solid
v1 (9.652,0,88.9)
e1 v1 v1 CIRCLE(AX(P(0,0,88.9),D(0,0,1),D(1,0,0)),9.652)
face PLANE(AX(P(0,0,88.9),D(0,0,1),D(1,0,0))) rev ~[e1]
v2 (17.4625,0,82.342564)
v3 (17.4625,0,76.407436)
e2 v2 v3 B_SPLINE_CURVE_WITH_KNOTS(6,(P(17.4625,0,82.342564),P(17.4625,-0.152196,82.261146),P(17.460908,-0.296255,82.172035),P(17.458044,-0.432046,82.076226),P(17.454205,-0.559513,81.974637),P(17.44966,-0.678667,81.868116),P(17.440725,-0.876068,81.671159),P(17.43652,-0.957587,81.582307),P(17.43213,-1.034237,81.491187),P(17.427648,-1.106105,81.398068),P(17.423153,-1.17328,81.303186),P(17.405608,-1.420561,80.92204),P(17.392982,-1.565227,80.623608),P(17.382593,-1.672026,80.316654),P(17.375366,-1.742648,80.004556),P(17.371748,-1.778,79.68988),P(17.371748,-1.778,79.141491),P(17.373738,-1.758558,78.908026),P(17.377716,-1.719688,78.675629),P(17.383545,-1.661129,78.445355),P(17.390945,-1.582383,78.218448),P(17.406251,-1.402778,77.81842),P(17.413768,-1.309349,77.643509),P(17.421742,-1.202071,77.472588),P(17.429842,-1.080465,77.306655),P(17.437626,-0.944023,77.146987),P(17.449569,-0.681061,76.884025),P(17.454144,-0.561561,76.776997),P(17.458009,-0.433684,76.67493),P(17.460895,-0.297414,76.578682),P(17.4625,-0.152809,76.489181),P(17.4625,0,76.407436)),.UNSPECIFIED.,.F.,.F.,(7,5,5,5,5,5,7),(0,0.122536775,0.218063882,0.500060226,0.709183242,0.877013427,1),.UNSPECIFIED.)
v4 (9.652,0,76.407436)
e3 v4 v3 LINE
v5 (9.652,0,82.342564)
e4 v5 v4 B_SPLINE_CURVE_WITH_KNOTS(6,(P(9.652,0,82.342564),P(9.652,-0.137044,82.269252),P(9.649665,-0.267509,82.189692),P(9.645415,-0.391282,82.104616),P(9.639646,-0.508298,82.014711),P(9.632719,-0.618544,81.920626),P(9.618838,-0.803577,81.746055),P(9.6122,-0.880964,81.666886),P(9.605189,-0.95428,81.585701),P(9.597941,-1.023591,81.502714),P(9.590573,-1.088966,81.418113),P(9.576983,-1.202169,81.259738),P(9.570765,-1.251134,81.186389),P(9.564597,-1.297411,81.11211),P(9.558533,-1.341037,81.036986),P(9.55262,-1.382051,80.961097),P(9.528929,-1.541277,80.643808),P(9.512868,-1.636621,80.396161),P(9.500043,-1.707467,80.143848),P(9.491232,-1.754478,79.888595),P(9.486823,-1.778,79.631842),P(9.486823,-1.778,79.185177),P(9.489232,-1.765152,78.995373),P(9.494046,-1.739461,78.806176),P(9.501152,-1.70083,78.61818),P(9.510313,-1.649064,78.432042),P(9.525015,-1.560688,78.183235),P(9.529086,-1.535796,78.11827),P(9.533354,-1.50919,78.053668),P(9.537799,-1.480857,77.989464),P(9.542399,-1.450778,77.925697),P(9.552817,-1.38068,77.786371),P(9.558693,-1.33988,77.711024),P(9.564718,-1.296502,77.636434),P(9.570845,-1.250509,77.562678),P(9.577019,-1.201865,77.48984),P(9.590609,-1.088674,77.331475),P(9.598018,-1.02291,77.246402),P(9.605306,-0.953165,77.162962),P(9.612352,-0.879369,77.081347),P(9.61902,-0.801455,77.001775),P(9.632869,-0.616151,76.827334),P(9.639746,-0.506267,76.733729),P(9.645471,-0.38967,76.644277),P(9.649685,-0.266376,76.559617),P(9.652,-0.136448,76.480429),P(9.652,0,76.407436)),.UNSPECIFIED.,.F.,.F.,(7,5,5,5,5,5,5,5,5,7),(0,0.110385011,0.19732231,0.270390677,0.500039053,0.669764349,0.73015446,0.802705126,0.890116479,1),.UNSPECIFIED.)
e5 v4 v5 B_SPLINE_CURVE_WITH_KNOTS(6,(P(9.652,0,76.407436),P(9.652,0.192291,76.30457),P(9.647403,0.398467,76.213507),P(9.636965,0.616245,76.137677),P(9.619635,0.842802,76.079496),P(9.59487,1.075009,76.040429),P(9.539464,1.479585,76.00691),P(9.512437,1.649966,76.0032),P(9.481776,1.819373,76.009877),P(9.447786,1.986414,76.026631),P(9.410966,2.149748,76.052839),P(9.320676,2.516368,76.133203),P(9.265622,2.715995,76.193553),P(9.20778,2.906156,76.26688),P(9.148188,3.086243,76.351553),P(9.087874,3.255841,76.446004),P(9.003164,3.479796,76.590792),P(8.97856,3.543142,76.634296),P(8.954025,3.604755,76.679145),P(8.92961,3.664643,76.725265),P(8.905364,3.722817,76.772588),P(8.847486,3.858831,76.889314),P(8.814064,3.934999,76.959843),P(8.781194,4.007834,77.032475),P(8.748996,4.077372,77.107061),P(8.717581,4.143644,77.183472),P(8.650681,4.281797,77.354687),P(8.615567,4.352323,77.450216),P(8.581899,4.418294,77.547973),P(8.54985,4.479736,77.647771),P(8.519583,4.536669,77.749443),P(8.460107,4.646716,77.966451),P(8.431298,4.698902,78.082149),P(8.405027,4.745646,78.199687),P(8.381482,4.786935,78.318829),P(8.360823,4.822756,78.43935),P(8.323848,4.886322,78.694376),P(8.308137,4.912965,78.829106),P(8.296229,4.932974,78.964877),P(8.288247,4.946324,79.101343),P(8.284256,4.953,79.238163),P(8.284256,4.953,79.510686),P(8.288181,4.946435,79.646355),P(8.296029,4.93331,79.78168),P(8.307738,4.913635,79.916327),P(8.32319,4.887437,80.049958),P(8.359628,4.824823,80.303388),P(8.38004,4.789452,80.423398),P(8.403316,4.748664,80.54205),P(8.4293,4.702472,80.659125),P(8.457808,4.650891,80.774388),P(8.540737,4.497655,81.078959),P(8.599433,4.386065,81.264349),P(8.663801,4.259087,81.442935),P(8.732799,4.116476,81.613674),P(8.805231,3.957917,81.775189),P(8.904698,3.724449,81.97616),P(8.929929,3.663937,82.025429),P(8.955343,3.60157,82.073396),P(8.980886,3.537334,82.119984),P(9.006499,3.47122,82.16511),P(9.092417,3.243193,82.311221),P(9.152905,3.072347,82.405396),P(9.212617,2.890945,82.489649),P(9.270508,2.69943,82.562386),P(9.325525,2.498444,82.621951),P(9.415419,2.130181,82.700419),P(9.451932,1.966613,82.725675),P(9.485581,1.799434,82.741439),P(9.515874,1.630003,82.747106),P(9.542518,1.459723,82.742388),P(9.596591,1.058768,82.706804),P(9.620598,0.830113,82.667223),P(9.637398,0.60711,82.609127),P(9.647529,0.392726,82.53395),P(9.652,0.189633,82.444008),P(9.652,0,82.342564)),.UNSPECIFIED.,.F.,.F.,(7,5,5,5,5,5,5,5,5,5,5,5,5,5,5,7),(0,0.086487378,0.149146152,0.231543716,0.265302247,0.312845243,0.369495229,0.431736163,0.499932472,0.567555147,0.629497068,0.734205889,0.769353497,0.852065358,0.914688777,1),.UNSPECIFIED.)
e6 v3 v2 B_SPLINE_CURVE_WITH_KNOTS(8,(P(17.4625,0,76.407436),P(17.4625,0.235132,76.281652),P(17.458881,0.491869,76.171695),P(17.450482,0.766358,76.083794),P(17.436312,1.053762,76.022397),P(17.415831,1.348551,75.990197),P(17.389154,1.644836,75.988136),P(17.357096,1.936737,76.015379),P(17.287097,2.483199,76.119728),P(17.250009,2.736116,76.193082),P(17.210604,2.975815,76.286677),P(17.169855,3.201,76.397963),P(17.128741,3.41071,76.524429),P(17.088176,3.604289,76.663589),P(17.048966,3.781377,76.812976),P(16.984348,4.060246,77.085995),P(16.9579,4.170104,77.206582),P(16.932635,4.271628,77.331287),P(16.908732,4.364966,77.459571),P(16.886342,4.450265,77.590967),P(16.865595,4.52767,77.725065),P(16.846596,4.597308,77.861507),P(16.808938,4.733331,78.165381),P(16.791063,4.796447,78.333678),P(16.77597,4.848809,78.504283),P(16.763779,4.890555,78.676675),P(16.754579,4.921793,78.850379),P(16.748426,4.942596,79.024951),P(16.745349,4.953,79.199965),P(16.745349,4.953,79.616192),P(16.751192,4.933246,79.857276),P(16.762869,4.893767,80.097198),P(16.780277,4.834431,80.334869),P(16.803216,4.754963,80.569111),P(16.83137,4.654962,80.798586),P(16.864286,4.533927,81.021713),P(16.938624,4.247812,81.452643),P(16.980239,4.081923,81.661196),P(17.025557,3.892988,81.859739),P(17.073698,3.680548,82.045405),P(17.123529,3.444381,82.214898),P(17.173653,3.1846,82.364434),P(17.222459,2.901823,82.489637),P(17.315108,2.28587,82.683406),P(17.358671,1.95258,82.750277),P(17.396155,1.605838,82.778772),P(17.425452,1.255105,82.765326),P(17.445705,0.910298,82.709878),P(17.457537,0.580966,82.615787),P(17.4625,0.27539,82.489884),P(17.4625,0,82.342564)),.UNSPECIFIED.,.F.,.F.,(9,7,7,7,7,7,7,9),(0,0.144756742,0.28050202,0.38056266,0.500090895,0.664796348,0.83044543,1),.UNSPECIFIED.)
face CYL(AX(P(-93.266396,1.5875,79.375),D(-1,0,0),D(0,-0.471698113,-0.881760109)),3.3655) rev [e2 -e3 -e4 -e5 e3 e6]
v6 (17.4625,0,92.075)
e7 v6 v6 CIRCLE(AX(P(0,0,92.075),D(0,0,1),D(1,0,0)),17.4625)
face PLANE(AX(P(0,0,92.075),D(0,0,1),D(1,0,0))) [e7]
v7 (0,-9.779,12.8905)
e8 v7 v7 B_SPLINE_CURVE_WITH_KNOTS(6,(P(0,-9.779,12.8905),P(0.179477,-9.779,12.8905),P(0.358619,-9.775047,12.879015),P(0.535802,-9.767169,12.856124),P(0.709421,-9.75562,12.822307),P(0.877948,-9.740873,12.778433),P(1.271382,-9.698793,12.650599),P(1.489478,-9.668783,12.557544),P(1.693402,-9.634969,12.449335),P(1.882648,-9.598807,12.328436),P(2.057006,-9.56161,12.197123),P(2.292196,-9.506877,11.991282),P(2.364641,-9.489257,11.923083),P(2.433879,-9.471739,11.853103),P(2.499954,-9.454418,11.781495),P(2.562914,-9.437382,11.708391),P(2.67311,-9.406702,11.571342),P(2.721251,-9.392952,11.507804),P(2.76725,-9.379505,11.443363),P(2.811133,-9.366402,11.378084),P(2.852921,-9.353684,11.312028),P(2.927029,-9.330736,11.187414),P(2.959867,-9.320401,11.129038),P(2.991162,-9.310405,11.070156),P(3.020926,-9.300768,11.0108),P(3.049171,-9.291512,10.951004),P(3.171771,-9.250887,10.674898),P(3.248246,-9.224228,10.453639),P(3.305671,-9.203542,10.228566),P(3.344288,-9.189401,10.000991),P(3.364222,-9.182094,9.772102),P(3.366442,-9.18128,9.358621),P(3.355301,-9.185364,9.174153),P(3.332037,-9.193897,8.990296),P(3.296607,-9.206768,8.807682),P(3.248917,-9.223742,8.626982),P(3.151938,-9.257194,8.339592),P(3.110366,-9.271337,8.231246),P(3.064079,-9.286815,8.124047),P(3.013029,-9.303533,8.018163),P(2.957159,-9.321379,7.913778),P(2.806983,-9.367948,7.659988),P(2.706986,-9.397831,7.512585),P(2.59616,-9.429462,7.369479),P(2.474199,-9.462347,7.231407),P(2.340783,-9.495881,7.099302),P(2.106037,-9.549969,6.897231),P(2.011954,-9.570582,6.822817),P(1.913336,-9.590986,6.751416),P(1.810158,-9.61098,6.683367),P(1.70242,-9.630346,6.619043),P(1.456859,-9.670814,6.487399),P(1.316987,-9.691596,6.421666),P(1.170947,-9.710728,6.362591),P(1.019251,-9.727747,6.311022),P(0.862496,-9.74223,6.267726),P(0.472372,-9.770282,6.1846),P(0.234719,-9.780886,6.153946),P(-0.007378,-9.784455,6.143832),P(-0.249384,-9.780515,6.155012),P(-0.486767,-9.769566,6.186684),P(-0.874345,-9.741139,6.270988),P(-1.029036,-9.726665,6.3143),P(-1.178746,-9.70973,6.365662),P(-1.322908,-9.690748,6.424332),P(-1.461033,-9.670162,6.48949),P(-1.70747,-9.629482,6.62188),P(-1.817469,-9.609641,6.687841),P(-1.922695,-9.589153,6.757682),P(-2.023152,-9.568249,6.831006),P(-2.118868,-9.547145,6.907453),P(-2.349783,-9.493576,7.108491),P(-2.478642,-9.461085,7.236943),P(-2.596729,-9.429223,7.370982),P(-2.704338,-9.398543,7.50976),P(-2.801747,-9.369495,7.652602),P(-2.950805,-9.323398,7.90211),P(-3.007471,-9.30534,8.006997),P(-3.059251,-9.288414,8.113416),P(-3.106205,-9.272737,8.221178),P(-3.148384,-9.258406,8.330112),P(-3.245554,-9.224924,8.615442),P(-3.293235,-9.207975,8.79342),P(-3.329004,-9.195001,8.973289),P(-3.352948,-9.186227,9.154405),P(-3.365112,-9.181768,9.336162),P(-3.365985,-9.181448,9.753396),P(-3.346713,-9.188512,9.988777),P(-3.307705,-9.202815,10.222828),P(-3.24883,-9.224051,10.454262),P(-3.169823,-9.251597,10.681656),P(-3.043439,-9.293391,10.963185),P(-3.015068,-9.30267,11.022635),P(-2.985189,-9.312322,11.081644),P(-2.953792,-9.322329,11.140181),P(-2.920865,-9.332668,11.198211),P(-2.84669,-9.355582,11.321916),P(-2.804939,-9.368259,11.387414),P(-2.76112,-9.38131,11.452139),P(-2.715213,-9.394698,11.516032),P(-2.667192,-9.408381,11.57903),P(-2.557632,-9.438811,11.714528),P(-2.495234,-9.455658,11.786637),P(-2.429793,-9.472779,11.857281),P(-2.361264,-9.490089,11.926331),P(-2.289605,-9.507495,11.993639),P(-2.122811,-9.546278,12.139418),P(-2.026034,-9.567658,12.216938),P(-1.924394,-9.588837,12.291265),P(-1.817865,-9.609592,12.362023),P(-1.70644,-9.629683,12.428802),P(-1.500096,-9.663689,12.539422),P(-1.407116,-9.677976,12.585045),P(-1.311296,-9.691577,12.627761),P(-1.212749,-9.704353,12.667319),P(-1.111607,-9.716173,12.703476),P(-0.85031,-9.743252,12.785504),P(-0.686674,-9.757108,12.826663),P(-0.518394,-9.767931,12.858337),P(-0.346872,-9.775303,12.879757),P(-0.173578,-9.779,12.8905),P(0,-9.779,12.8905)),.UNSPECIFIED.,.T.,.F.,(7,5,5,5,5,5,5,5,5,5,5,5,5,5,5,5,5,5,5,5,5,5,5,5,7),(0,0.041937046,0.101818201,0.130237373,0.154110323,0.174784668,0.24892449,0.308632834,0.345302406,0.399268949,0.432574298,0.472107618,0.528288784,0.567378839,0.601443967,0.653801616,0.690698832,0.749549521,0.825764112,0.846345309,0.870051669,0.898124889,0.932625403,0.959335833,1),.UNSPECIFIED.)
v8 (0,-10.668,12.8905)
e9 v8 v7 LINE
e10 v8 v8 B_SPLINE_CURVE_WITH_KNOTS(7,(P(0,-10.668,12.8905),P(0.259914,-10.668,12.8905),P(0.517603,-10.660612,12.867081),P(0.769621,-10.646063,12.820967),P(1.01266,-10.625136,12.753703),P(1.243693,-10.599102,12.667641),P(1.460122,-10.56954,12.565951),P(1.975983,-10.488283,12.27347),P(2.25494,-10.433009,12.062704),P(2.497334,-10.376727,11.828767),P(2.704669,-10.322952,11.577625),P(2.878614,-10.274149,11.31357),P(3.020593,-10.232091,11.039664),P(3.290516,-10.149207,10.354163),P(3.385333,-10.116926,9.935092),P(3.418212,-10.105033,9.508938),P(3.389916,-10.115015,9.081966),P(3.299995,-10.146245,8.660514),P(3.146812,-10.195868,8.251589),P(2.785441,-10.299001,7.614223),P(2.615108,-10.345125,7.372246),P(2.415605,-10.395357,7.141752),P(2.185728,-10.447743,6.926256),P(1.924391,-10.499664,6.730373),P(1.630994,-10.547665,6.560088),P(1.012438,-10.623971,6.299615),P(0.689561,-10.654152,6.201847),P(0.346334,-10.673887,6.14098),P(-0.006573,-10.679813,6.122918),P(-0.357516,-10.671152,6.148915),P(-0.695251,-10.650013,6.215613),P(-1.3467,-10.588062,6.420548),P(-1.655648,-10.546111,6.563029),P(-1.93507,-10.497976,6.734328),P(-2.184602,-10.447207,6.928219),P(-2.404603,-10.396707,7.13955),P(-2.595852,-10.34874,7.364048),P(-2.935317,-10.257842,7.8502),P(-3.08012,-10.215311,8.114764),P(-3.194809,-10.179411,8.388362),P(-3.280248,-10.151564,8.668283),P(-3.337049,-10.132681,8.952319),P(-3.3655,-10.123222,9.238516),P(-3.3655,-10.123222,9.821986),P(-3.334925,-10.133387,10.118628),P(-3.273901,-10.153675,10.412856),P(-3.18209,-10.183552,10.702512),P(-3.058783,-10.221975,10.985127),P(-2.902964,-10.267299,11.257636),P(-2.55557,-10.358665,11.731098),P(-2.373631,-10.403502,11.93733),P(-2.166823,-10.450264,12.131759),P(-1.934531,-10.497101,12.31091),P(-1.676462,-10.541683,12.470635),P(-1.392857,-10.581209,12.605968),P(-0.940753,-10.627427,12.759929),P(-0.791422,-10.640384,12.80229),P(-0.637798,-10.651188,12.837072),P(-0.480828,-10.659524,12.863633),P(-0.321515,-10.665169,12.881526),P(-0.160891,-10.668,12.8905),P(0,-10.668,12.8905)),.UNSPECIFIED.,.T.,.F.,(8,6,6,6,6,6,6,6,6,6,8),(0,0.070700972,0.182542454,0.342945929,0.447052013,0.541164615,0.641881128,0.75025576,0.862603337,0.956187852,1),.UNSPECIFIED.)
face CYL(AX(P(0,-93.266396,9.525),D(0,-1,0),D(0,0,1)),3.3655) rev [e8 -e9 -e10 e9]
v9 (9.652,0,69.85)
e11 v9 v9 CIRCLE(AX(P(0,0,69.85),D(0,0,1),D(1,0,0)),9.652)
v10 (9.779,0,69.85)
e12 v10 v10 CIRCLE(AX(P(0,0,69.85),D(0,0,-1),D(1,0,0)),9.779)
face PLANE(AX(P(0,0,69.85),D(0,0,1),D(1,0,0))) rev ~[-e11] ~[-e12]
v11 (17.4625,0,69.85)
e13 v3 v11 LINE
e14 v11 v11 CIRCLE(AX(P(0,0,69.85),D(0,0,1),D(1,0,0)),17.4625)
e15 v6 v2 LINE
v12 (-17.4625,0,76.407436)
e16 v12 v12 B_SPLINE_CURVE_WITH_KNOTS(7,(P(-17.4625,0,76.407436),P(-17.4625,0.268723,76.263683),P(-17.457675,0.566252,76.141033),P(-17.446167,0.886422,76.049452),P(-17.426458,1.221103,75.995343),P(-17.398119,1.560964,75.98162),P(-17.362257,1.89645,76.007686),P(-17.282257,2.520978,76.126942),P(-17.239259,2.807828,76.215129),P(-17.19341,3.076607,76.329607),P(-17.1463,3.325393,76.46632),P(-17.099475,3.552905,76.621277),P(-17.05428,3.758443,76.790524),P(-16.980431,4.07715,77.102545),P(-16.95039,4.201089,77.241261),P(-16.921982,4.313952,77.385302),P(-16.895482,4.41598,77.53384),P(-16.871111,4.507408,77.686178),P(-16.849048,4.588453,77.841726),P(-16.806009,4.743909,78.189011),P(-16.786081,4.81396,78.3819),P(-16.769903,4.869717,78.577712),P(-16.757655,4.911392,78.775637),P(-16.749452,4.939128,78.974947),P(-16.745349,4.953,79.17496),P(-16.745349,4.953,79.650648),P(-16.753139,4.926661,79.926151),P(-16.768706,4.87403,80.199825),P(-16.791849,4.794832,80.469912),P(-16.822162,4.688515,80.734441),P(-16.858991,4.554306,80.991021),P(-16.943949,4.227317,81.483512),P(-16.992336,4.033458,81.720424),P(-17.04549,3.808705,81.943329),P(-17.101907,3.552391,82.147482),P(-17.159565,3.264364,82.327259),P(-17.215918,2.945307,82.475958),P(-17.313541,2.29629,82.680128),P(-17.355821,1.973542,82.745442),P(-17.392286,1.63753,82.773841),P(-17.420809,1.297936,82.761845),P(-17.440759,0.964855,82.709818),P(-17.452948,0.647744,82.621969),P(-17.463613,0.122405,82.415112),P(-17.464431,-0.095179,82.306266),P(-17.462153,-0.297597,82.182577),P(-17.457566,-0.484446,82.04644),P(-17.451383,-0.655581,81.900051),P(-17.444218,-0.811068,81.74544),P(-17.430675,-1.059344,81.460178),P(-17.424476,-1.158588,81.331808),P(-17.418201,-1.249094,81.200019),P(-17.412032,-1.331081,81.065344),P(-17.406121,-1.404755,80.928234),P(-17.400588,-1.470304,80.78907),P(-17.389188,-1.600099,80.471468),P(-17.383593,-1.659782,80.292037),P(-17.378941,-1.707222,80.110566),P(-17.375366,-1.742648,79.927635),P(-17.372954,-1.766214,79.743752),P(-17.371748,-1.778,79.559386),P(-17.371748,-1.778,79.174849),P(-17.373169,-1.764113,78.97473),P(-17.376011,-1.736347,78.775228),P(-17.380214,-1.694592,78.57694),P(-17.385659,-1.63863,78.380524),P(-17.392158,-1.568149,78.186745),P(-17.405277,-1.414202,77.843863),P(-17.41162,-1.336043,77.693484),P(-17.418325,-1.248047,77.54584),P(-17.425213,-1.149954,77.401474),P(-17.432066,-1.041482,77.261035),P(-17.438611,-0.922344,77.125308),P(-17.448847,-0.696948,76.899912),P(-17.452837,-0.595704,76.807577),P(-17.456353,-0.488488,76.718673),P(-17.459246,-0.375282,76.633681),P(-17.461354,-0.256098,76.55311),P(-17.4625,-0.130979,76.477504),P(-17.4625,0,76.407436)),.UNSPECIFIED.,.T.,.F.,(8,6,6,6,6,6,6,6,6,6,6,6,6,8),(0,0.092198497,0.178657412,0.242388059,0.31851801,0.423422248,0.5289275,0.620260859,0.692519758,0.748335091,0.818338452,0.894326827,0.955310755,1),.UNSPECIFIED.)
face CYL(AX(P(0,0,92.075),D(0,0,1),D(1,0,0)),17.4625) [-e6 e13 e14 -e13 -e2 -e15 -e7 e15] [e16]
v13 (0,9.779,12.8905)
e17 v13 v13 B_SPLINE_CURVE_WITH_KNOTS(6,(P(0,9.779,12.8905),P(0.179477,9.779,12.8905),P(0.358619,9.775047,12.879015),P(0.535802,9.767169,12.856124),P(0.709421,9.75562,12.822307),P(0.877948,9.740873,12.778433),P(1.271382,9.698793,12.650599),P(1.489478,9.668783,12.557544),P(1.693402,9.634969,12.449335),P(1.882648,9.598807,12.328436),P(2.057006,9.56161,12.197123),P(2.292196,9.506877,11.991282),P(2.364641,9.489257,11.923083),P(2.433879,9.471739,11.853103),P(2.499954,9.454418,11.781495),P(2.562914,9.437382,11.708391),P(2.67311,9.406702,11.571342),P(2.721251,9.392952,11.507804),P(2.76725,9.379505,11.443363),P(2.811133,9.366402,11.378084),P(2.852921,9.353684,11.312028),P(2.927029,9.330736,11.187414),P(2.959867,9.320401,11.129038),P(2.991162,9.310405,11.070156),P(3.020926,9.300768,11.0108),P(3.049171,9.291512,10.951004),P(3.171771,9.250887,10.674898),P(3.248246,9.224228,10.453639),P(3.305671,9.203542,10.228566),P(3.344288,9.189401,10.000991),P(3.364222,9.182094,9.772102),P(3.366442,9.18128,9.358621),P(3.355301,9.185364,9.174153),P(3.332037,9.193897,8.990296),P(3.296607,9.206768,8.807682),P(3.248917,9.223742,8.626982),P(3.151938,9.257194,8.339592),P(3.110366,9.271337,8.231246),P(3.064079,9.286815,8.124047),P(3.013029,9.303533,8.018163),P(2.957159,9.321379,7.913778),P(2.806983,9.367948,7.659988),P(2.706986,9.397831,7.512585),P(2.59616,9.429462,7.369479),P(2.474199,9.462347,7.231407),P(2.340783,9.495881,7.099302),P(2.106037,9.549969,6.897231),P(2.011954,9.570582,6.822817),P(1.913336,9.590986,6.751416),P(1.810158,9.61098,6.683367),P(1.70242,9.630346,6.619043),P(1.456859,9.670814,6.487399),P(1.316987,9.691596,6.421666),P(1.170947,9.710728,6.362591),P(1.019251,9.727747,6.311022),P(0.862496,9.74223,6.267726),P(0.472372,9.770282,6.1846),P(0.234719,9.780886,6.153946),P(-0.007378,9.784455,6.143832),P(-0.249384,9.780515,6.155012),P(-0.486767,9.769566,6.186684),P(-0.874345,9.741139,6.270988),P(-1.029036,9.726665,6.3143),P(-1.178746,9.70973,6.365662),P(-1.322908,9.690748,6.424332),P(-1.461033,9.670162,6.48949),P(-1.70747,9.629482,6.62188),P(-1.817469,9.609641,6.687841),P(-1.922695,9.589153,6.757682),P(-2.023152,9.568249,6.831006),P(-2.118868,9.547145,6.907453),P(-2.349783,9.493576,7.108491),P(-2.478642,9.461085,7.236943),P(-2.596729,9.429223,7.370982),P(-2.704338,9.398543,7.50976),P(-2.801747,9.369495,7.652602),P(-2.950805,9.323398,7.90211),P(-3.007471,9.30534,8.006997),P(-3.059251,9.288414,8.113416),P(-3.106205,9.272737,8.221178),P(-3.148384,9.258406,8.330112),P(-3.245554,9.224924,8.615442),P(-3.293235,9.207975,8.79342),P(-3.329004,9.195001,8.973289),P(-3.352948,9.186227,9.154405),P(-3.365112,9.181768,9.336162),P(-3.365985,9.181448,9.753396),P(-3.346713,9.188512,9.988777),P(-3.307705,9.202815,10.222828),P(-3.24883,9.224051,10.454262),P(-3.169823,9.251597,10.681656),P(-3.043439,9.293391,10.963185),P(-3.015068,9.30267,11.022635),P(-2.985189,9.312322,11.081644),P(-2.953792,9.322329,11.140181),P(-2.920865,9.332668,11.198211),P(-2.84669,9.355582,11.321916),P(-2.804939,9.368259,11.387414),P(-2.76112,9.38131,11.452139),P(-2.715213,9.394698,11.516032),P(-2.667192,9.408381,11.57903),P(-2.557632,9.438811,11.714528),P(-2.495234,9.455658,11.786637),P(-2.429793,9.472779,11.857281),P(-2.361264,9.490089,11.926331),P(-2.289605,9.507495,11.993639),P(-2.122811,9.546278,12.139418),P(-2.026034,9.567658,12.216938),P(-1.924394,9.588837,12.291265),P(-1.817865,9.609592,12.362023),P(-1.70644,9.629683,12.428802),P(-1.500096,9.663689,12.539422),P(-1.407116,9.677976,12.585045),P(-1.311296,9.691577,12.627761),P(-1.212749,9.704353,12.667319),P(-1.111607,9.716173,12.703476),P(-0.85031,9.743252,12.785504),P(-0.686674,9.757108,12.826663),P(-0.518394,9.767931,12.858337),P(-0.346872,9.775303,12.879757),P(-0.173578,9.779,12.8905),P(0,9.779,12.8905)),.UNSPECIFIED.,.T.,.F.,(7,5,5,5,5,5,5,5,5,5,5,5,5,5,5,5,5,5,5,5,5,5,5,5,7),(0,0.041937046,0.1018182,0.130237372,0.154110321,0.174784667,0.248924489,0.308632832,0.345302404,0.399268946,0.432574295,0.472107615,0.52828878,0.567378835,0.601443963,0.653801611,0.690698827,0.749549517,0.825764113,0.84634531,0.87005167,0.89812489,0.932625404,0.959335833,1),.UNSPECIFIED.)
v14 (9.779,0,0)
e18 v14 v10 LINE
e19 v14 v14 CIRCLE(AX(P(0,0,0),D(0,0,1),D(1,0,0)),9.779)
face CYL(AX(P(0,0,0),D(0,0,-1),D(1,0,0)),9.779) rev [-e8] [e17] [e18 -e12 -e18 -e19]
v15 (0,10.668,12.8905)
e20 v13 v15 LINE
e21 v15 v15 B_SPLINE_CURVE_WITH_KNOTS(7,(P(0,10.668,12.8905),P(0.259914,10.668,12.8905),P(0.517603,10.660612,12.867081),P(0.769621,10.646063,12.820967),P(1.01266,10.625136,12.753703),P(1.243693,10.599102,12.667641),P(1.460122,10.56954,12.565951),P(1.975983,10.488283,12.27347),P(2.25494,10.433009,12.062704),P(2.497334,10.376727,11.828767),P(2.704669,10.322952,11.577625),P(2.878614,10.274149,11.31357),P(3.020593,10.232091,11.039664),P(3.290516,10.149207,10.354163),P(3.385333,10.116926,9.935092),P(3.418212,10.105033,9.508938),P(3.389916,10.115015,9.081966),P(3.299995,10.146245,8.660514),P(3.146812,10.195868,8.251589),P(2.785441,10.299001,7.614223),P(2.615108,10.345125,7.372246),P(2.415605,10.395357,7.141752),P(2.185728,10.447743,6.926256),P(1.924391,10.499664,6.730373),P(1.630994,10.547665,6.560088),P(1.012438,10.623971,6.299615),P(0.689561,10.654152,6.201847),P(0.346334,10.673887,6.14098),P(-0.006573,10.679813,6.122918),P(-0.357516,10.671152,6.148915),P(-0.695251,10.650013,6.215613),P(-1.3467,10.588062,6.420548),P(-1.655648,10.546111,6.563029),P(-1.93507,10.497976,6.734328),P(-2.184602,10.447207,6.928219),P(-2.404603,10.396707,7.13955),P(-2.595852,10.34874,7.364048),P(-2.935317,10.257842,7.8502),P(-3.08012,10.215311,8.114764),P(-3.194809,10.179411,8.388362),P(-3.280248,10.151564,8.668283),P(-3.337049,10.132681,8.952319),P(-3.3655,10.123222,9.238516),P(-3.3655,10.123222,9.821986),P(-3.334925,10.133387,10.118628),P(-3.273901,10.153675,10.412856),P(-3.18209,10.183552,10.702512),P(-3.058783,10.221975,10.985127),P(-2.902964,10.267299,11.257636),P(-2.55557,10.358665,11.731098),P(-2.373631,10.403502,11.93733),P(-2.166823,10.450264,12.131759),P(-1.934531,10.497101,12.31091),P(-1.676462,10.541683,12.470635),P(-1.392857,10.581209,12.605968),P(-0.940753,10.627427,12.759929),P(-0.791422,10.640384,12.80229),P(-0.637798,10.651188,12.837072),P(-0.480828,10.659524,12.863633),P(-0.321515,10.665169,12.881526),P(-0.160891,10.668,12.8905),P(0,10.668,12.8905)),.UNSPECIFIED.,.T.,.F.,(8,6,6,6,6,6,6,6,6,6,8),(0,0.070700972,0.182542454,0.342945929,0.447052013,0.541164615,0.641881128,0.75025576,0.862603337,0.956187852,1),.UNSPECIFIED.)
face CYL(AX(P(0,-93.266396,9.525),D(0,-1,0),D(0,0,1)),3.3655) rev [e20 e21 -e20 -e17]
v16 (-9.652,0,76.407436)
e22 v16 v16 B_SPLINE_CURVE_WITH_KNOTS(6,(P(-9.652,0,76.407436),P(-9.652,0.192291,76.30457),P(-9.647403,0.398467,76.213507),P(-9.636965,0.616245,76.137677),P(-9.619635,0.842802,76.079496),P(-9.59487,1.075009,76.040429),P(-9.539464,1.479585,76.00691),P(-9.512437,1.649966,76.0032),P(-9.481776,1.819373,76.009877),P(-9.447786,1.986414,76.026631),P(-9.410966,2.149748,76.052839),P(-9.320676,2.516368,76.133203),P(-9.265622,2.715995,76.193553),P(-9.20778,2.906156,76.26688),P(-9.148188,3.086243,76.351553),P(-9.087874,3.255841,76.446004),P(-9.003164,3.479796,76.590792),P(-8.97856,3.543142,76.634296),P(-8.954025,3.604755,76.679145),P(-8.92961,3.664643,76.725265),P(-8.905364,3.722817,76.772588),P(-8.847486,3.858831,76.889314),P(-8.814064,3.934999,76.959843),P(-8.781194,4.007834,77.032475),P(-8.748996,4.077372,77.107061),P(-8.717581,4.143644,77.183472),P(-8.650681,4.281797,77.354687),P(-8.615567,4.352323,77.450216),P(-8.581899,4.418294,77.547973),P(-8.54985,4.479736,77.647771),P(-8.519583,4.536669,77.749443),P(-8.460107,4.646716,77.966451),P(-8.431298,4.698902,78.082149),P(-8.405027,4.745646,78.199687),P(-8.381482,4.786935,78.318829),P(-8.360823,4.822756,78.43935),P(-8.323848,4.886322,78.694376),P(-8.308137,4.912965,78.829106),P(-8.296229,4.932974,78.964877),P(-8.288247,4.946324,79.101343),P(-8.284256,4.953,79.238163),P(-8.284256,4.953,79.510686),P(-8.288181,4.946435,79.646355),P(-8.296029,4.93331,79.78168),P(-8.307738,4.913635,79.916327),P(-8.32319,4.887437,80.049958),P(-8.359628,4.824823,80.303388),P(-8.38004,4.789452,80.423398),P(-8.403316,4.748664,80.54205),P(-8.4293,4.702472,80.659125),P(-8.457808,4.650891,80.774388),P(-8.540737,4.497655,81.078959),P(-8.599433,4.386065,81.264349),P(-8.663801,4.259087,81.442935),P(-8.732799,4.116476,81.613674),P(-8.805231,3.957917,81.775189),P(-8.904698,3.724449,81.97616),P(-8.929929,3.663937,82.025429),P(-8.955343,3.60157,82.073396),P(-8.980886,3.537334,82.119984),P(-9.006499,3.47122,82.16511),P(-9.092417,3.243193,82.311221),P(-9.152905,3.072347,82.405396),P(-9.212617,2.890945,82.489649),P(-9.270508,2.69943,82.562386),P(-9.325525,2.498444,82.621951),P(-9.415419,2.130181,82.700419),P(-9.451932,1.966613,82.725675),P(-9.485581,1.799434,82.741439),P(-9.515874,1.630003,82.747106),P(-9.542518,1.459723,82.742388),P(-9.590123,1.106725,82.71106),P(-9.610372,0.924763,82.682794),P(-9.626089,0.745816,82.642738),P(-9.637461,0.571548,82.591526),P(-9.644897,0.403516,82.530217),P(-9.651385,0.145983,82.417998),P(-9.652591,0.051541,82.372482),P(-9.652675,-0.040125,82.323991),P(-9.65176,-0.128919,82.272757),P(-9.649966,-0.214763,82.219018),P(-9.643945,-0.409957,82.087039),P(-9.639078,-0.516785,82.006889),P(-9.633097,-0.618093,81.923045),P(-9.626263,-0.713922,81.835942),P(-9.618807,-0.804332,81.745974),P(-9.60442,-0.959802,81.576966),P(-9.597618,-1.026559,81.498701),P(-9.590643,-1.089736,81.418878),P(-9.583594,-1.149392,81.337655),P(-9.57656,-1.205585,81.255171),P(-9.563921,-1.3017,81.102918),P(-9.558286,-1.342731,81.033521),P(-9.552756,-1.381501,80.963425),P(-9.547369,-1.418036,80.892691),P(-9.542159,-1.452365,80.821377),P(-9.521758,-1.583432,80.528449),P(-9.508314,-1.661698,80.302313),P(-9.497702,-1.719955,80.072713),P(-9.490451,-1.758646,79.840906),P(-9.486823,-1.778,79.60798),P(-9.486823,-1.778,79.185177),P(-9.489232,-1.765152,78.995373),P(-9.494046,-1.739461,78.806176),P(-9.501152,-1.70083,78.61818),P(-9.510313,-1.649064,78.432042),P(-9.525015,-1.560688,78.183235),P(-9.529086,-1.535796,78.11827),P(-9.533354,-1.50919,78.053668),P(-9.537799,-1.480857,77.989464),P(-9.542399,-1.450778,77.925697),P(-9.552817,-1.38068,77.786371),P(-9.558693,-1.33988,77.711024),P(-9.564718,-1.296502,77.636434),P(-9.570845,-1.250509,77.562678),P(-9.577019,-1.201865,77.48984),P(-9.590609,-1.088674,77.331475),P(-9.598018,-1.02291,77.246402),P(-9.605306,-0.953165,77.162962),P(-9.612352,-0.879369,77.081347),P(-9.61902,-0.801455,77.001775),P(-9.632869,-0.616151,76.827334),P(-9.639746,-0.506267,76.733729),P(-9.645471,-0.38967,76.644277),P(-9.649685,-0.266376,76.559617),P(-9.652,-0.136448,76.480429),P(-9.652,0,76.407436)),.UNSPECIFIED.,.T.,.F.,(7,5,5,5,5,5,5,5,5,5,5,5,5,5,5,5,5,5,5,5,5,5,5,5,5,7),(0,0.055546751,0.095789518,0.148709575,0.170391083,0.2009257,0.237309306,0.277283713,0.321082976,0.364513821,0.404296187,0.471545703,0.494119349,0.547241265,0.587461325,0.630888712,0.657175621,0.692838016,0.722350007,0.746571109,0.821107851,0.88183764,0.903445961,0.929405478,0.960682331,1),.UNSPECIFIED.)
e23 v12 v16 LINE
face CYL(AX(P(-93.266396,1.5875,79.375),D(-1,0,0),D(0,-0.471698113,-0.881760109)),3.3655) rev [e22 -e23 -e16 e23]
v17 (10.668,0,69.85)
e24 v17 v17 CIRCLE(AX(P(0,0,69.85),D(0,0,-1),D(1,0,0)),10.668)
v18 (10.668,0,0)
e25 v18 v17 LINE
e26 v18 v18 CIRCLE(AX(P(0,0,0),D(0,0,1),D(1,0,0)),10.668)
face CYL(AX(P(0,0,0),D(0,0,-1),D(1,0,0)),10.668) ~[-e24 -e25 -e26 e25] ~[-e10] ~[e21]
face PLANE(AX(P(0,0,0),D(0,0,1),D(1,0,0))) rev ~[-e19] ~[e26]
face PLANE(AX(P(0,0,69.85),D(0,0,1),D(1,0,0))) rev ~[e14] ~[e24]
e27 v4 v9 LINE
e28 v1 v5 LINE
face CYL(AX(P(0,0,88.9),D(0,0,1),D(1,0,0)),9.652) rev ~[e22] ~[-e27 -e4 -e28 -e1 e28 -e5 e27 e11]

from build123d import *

# Parameters (mm, degrees)
SKETCH1_R               = 10.668
SKETCH1_R_2             = 9.779
BOSS_EXTRUDE1_DEPTH     = 88.9
SKETCH4_R               = 17.4625
BOSS_EXTRUDE2_DEPTH     = 19.05
CUT_EXTRUDE1_DEPTH      = 93.266395901
CUT_EXTRUDE1_DEPTH_BACK = 93.266395901
SKETCH5_R               = 3.3655
CUT_EXTRUDE2_DEPTH      = 93.266396035
CUT_EXTRUDE2_DEPTH_BACK = 93.266396035
SKETCH7_R               = 3.3655
SKETCH8_R               = 9.652
CUT_EXTRUDE3_DEPTH      = 93.266396035
BOSS_EXTRUDE3_START     = 3.175
SKETCH9_R               = 17.4625
BOSS_EXTRUDE3_DEPTH     = 3.175


with BuildPart() as part:
    # Sketch1 → Boss-Extrude1 (new body)
    with BuildSketch(Plane.XY):
        Circle(SKETCH1_R)
        Circle(SKETCH1_R_2, mode=Mode.SUBTRACT)
    extrude(amount=BOSS_EXTRUDE1_DEPTH)

    # Sketch4 → Boss-Extrude2 (add)
    with BuildSketch(Plane.XY.offset(88.9)):
        Circle(SKETCH4_R)
    extrude(amount=-BOSS_EXTRUDE2_DEPTH)

    # Sketch5 → Cut-Extrude1 (cut, two sides: drawn at the far end of the back side and taken through both)
    with BuildSketch(Plane(origin=(0, 0, 0), x_dir=(0, 0, -1), z_dir=(1, 0, 0)).offset(-CUT_EXTRUDE1_DEPTH_BACK)):
        with Locations(Location((-79.375, 1.5875, 0), (0, 0, 331.855418691))):
            Circle(SKETCH5_R)
    extrude(amount=CUT_EXTRUDE1_DEPTH + CUT_EXTRUDE1_DEPTH_BACK, mode=Mode.SUBTRACT)

    # Sketch7 → Cut-Extrude2 (cut, two sides: drawn at the far end of the back side and taken through both)
    with BuildSketch(Plane(origin=(0, 0, 0), x_dir=(1, 0, 0), z_dir=(0, 1, 0)).offset(-CUT_EXTRUDE2_DEPTH_BACK)):
        with Locations(Location((0, -9.525, 0), (0, 0, 270))):
            Circle(SKETCH7_R)
    extrude(amount=CUT_EXTRUDE2_DEPTH + CUT_EXTRUDE2_DEPTH_BACK, mode=Mode.SUBTRACT)

    # Sketch8 → Cut-Extrude3 (cut, through all)
    with BuildSketch(Plane.XY.offset(88.9)):
        Circle(SKETCH8_R)
    extrude(amount=-CUT_EXTRUDE3_DEPTH, mode=Mode.SUBTRACT)

    # Sketch9 → Boss-Extrude3 (add)
    with BuildSketch(Plane.XY.offset(88.9).offset(BOSS_EXTRUDE3_START)):
        Circle(SKETCH9_R)
    extrude(amount=-BOSS_EXTRUDE3_DEPTH)


solid = part.part
